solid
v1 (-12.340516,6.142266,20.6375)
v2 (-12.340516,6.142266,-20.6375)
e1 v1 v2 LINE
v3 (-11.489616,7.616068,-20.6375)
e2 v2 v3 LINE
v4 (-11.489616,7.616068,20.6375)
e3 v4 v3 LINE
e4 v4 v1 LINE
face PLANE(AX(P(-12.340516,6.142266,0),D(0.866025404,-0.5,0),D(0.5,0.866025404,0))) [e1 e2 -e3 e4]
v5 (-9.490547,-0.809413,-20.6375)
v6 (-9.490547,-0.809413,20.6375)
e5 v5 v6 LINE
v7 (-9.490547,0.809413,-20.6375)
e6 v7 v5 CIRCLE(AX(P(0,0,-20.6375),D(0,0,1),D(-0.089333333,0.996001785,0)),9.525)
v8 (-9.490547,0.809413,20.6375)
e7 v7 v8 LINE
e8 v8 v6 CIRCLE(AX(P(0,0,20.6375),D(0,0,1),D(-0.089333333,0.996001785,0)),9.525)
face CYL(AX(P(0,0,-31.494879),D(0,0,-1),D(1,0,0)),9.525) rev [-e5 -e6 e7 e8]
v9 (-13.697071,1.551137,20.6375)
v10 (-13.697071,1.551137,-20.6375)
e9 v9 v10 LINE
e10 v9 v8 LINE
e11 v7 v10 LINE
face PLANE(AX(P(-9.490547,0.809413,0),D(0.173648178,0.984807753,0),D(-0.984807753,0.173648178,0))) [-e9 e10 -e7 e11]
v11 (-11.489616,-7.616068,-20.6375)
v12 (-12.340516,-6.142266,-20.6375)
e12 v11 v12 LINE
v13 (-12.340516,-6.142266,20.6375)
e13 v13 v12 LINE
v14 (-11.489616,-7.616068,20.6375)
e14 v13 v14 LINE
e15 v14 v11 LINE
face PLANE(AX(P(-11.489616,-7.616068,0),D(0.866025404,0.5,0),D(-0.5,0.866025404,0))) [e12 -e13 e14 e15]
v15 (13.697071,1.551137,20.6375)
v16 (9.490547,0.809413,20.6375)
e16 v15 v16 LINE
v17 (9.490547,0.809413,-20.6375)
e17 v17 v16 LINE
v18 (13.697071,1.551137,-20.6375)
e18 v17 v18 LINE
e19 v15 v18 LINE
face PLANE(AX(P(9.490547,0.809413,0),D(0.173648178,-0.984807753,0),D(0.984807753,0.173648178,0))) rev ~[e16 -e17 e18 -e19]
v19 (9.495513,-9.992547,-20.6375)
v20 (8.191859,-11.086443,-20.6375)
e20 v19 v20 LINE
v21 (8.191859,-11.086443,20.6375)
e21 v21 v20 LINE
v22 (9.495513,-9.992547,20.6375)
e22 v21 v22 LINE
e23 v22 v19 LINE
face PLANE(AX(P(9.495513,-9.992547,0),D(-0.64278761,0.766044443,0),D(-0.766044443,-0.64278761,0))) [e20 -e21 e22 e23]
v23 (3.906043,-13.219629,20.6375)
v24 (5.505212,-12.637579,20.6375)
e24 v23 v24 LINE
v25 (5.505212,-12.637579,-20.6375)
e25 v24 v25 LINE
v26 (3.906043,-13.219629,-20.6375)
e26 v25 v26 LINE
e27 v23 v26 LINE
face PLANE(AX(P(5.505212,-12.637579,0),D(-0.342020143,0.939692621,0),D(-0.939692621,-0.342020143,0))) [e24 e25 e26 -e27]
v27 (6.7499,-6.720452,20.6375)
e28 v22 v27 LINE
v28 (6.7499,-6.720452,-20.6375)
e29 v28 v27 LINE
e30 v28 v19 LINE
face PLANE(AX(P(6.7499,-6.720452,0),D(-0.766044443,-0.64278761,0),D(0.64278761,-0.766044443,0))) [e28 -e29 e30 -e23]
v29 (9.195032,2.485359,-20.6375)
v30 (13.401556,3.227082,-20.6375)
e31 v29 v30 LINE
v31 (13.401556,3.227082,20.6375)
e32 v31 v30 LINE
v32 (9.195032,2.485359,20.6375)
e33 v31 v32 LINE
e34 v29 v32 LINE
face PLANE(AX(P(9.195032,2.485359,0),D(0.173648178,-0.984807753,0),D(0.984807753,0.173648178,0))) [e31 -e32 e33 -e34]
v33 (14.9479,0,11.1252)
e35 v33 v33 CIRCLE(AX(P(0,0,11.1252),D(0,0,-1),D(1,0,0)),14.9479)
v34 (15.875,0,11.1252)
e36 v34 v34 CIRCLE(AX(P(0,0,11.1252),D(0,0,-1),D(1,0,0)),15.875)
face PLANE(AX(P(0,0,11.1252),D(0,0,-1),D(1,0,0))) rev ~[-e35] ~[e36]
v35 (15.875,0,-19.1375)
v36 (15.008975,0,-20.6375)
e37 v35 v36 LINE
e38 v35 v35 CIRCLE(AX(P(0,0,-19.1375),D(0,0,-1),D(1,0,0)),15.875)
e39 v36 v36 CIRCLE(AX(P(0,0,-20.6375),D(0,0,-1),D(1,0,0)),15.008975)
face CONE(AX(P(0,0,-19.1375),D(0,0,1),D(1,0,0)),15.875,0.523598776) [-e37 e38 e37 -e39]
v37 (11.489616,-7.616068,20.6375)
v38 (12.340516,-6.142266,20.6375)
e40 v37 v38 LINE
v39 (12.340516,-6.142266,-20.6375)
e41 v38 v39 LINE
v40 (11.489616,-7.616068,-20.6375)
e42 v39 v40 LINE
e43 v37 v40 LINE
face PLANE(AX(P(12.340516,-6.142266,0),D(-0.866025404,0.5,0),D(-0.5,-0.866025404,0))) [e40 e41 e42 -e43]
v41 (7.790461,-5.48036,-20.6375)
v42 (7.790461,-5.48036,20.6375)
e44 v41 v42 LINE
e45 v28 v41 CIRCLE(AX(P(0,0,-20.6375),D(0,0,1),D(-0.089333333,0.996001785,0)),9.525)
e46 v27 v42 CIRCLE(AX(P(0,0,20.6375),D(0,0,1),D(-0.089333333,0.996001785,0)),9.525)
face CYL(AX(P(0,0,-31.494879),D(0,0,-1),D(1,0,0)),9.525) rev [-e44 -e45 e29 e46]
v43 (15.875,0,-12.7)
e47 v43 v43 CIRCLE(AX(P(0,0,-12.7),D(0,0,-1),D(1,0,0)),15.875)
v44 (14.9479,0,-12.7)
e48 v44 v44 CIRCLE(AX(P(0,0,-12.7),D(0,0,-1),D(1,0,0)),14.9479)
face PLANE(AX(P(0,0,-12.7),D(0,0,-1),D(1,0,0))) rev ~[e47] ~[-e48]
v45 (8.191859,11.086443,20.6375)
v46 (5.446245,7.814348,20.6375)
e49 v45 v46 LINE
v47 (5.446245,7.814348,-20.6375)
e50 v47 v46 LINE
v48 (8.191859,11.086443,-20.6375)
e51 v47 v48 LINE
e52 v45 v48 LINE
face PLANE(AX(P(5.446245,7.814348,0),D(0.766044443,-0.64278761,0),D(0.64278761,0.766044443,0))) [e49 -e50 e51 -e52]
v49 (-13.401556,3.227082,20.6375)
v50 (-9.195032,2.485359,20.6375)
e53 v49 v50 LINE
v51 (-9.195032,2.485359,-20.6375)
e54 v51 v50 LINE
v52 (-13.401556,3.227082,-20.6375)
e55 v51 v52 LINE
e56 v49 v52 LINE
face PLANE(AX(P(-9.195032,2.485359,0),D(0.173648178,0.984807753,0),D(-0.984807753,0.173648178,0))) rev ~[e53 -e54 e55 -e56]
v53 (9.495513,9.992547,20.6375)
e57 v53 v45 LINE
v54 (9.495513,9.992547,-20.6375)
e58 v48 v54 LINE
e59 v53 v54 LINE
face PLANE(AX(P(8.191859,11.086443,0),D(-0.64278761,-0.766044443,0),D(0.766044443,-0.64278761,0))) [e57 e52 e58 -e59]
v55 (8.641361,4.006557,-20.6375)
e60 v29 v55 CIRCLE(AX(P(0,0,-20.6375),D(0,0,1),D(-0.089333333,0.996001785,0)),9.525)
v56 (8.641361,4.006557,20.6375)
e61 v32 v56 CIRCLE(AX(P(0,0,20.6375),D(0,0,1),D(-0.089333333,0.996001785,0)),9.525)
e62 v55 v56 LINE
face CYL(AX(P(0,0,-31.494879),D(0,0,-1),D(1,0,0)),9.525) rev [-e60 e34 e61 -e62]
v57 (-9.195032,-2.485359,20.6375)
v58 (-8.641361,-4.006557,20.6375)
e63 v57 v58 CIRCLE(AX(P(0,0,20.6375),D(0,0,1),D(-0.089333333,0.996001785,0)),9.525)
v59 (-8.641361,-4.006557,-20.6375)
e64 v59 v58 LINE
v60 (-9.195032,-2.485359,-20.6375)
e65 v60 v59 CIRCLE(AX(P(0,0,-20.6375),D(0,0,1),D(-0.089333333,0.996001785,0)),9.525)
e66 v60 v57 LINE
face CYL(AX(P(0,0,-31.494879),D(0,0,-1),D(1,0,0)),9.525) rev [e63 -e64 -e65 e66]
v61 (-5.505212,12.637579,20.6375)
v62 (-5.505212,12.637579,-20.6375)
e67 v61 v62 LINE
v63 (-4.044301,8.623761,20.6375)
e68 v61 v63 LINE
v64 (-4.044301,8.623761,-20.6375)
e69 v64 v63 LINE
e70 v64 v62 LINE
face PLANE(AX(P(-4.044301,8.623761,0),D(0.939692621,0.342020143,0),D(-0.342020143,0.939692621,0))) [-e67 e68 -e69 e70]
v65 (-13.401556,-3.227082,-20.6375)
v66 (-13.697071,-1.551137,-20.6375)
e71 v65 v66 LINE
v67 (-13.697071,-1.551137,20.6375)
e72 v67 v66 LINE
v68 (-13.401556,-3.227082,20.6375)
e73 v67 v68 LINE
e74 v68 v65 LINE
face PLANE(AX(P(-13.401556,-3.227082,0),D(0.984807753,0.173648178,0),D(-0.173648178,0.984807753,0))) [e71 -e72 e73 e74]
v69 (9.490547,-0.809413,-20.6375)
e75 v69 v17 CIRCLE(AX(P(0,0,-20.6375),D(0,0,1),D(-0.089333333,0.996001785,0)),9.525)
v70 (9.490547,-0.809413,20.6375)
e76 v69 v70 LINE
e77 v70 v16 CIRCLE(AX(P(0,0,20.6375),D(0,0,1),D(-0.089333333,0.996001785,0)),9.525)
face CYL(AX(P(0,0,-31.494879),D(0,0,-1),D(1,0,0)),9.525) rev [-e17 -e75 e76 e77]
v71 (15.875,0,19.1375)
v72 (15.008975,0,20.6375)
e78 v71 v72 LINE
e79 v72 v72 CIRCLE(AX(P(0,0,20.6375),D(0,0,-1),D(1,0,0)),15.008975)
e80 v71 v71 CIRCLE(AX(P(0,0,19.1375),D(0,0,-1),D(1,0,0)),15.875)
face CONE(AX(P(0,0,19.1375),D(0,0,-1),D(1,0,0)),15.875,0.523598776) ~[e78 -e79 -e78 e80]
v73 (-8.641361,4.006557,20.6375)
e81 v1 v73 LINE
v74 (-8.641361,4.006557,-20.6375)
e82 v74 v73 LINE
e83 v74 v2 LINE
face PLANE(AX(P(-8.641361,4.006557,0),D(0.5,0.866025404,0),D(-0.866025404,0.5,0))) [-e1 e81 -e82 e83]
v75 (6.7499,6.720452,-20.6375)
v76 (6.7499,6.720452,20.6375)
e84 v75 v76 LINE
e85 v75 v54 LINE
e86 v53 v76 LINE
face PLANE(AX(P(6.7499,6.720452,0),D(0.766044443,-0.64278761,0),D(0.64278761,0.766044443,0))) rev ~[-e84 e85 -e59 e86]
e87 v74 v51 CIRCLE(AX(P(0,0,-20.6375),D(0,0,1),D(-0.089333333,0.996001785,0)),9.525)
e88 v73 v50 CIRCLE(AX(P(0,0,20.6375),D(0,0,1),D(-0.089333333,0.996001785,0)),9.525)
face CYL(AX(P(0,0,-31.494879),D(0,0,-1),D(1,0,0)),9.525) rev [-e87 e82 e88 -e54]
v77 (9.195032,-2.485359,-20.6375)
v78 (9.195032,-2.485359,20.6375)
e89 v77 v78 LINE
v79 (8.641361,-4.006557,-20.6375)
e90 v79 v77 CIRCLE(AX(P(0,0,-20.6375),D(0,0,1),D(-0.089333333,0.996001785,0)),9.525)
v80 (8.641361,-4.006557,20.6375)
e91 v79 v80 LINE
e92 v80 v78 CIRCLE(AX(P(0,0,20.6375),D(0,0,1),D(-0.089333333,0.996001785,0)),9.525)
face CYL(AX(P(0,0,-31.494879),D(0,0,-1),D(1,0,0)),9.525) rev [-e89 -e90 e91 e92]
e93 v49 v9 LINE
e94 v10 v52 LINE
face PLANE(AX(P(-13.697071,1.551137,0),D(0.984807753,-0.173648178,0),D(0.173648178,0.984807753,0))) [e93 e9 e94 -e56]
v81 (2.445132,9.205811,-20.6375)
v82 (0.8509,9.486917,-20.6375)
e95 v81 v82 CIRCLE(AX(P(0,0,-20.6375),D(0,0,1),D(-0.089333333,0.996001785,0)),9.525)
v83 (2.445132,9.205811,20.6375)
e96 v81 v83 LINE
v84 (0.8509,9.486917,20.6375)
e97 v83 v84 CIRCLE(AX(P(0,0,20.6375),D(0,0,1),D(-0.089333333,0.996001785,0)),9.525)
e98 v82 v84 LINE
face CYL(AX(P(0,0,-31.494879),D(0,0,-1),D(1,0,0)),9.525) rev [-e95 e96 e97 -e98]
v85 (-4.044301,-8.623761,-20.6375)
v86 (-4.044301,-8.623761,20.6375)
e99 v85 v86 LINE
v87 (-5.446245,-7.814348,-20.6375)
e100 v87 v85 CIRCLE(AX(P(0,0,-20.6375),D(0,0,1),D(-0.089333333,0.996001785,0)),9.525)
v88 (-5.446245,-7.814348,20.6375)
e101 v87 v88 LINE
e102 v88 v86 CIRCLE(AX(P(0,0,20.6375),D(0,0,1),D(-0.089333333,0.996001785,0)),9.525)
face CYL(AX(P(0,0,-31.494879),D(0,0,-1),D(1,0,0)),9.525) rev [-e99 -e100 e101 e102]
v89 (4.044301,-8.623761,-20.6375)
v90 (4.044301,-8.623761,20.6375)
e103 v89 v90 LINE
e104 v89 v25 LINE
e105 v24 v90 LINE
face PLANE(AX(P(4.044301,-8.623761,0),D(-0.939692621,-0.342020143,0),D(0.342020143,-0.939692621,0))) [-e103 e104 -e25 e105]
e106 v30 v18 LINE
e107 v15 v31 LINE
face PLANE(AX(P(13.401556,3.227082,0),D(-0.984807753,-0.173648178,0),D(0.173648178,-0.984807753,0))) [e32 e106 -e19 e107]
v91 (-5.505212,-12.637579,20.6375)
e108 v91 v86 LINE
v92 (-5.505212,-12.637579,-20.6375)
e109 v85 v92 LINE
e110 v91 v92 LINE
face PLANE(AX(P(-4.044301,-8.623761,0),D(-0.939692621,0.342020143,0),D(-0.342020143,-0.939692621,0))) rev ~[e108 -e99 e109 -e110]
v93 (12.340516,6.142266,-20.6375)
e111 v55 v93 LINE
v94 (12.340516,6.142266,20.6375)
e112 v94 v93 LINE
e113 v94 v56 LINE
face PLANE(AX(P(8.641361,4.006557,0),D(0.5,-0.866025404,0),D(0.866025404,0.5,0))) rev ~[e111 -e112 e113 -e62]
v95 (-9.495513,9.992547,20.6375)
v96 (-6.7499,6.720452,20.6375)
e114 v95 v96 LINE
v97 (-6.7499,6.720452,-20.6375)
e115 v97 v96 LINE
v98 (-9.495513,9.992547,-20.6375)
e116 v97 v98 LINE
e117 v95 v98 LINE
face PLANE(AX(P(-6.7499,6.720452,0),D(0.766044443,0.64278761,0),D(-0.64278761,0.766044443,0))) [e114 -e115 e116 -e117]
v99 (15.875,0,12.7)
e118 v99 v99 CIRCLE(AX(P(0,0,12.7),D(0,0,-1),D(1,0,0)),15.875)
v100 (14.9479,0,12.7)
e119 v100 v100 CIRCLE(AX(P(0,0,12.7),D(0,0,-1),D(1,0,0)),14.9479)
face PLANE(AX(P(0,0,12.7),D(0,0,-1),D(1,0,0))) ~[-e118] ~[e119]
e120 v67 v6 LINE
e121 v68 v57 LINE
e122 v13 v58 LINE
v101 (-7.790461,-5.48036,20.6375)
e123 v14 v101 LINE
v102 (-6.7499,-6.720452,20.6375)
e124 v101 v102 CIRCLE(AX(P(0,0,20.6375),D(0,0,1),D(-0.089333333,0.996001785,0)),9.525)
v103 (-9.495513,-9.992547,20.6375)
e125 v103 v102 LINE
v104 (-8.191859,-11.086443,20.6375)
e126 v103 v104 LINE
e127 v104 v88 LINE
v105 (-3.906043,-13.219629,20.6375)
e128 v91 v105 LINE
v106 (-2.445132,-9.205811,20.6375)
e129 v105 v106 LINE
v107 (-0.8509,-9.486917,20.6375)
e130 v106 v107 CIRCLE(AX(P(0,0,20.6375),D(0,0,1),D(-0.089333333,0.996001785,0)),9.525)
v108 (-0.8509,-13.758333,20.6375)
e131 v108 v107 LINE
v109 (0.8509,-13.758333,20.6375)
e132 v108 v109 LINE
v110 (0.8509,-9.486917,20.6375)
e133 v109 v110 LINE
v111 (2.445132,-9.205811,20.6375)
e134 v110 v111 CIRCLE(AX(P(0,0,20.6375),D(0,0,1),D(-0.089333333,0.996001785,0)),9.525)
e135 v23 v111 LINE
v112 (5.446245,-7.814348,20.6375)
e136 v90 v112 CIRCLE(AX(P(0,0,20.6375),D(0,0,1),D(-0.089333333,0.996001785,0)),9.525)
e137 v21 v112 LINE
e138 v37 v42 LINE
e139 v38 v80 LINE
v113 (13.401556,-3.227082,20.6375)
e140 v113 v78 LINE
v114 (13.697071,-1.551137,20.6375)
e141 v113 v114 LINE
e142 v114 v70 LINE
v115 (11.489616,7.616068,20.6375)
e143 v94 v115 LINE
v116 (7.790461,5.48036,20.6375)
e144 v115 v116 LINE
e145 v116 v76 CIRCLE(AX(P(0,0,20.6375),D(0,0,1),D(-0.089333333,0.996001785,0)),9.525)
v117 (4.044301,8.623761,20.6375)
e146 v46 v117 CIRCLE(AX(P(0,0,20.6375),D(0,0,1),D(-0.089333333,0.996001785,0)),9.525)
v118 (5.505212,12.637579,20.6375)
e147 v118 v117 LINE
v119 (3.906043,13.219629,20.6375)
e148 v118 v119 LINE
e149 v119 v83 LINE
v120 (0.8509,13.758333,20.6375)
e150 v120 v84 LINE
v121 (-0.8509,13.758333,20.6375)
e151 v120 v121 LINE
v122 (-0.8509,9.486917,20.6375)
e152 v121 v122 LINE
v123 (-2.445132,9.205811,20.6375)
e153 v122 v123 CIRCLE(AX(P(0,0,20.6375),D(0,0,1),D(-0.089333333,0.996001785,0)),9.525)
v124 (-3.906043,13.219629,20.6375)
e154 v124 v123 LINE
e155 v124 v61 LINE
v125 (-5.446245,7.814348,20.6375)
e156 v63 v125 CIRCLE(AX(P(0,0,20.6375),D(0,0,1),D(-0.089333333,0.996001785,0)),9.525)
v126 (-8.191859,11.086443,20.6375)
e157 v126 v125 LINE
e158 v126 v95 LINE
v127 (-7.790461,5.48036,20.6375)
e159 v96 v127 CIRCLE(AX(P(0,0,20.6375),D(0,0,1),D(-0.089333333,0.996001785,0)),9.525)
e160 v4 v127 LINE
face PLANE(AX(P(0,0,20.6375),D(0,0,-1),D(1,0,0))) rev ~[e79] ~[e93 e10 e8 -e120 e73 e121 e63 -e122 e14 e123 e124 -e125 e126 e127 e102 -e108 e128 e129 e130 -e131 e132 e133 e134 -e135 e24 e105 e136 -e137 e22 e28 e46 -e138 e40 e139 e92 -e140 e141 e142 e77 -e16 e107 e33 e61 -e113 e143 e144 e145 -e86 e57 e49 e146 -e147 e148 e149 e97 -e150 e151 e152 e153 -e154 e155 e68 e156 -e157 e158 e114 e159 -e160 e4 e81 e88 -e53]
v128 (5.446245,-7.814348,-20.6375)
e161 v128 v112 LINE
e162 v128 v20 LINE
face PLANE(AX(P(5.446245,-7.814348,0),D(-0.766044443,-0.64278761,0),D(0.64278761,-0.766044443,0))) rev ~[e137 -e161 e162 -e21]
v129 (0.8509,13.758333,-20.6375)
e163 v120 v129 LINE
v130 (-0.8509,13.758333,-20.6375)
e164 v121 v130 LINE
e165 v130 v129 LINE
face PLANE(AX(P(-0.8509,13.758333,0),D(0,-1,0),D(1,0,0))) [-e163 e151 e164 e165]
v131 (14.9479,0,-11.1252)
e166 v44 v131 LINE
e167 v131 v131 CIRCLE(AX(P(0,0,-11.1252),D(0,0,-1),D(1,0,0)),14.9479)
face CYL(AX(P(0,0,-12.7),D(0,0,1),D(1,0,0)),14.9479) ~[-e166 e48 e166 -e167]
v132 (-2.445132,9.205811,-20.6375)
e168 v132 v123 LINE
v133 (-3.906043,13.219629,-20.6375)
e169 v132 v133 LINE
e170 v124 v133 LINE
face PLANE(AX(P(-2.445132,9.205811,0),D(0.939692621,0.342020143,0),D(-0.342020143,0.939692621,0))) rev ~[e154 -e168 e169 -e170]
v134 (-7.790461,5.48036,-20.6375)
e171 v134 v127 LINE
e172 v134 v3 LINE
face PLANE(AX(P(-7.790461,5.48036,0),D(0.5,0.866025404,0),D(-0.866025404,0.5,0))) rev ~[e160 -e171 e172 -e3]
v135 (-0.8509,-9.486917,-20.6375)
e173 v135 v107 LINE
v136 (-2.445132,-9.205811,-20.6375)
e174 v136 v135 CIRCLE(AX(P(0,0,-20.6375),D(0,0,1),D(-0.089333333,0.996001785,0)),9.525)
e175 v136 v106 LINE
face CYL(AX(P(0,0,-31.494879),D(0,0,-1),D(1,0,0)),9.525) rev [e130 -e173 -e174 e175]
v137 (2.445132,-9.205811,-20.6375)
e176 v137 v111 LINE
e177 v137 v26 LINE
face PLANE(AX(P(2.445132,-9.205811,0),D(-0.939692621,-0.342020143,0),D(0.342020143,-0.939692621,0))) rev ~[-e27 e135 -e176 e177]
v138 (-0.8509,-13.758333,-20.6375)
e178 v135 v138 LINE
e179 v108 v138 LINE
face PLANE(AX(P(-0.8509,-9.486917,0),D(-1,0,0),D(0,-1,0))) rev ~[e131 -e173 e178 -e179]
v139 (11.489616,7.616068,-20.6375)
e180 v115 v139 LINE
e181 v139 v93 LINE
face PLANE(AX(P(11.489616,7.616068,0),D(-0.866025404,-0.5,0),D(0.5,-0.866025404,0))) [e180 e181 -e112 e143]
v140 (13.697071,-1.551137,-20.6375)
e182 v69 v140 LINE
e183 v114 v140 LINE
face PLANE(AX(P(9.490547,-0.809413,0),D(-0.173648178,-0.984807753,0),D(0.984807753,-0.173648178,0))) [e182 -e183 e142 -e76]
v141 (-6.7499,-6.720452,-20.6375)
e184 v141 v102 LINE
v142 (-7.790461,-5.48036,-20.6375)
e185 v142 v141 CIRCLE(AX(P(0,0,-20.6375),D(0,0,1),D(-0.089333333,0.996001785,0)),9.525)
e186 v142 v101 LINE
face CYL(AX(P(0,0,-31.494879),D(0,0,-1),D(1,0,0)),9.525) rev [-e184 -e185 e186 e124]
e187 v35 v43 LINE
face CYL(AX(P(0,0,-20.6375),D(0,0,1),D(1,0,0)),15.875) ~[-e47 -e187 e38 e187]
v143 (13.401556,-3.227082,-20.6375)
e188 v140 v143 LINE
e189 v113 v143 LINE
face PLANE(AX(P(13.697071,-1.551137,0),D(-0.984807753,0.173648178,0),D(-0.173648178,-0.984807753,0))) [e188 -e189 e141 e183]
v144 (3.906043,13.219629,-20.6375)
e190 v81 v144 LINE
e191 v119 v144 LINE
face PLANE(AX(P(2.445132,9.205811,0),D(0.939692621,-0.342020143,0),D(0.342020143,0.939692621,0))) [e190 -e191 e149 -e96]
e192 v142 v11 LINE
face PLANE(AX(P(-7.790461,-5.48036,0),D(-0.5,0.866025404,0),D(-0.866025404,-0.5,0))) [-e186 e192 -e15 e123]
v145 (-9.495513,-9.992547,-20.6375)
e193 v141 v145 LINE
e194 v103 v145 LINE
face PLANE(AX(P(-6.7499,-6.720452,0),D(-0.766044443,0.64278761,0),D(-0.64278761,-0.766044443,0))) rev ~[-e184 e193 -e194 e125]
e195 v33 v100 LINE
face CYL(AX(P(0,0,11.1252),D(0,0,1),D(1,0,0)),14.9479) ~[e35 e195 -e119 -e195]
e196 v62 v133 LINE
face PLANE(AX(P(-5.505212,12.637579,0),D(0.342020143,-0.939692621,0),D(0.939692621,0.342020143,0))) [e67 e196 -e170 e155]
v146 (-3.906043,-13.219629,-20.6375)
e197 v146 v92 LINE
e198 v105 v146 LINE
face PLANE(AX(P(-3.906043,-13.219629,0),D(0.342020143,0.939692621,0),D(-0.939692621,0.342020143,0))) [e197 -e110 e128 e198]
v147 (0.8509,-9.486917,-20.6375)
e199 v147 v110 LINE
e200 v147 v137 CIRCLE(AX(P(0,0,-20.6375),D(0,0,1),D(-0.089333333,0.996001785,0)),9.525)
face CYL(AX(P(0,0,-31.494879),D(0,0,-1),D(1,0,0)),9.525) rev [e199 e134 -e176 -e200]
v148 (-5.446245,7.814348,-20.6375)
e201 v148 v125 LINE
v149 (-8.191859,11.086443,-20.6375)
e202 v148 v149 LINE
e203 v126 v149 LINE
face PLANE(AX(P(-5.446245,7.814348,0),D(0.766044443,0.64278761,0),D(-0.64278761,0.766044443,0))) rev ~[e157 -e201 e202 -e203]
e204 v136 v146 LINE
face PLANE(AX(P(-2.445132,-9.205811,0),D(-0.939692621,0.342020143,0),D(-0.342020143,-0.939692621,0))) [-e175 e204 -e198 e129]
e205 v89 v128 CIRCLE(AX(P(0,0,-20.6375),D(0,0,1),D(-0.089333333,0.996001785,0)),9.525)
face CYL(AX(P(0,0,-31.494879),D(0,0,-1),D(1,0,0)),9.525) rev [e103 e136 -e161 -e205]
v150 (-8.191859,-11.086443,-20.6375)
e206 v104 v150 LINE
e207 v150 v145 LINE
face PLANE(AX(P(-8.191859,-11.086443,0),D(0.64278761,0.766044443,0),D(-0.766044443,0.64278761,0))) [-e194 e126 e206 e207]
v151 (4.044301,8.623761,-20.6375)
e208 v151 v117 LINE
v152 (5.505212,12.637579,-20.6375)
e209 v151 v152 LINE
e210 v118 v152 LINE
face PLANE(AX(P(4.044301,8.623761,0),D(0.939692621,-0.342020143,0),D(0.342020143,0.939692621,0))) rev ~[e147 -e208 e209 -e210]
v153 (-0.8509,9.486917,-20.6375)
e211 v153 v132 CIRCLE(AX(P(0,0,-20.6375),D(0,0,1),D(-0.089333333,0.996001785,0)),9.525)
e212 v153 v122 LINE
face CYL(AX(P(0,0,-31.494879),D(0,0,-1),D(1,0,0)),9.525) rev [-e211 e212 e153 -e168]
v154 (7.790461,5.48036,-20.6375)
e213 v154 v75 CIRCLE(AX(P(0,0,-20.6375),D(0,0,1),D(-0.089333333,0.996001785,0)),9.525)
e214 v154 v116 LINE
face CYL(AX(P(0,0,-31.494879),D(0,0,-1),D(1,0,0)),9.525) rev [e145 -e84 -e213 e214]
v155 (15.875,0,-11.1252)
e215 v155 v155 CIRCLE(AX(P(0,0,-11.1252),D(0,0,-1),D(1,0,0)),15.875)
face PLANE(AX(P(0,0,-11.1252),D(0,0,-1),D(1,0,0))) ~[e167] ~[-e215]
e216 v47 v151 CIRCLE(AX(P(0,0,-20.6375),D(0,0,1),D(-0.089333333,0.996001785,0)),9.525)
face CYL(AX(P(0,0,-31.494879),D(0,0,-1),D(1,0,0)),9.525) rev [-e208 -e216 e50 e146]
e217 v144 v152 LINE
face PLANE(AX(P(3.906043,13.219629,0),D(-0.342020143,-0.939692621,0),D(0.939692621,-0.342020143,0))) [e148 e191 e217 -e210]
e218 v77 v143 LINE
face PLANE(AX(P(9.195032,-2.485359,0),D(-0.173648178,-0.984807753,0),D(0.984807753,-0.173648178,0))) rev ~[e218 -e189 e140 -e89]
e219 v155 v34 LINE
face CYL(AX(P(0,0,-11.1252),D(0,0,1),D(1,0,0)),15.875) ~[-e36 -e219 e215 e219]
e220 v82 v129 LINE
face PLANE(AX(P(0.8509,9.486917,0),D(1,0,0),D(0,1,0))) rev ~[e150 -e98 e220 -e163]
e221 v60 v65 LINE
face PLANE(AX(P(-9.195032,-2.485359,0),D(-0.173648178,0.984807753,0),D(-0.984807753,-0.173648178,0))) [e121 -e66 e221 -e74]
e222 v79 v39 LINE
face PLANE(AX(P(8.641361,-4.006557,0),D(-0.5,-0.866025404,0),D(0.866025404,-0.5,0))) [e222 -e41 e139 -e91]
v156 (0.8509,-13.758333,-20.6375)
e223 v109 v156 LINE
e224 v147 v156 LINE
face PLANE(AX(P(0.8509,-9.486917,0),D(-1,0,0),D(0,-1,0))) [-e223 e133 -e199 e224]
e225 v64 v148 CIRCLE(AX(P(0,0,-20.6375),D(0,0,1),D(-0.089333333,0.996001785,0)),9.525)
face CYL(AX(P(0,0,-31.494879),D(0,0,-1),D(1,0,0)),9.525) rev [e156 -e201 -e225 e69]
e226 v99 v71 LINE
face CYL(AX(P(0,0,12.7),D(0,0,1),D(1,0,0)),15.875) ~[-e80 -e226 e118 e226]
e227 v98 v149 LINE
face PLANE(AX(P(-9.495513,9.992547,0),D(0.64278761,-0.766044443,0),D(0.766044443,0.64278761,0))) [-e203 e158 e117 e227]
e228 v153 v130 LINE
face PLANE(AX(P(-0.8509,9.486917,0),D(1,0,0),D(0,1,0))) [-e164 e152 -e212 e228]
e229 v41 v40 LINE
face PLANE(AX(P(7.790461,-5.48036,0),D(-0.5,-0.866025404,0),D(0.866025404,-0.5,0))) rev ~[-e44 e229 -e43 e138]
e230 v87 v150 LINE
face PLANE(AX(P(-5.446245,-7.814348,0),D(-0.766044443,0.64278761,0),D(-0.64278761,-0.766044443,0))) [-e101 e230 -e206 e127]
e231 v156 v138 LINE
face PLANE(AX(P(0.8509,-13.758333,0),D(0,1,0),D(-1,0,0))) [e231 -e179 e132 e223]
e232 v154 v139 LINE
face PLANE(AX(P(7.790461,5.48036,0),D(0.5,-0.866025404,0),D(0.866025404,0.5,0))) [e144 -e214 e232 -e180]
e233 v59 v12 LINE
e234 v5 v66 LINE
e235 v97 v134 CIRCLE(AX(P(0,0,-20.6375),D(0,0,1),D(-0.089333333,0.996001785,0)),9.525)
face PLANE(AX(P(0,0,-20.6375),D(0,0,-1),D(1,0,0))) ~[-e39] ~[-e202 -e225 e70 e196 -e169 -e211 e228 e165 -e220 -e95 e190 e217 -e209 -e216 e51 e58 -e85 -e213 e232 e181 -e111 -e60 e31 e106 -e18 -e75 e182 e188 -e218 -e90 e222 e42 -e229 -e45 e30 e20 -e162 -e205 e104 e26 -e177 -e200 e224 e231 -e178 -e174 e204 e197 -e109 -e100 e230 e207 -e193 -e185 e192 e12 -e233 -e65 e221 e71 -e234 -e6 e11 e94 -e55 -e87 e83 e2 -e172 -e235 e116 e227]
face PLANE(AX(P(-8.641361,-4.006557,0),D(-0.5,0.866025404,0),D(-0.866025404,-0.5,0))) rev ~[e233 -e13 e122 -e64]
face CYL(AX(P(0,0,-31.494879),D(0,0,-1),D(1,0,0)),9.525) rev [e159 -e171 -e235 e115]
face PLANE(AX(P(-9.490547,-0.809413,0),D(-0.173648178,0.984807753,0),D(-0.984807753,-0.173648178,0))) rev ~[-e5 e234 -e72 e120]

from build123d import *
from OCP.BRepFilletAPI import BRepFilletAPI_MakeChamfer

# Parameters (mm, degrees)
BORE_DEPTH          = 31.494879181
BORE_DEPTH_BACK     = 31.494879181
SKETCH2_R           = 9.525
SKETCH3_W           = 1.7018
SKETCH3_H           = 4.271416332
RIDGE_DEPTH         = 31.494879181
RIDGE_PATTERN_COUNT = 18
OD_CHAMFER_SIZE     = 1.5
OD_CHAMFER_SIZE2    = 0.866025404


with BuildPart() as part:
    # Sketch1 → Bearing (revolve)
    with BuildSketch(Plane(origin=(0, 0, 0), x_dir=(0, 0, -1), z_dir=(1, 0, 0))):
        Polygon((-20.6375, 0), (20.6375, 0), (20.6375, -15.875), (12.7, -15.875), (12.7, -14.9479), (11.1252, -14.9479), (11.1252, -15.875), (-11.1252, -15.875), (-11.1252, -14.9479), (-12.7, -14.9479), (-12.7, -15.875), (-20.6375, -15.875), align=None)
    revolve(axis=Axis((0, 0, 20.6375), (0, 0, -1)))

    # Sketch2 → Bore (cut, two sides: drawn at the far end of the back side and taken through both)
    with BuildSketch(Plane.XY.offset(-BORE_DEPTH_BACK)):
        Circle(SKETCH2_R)
    extrude(amount=BORE_DEPTH + BORE_DEPTH_BACK, mode=Mode.SUBTRACT)

    # Sketch3 → Ridge (cut, symmetric)
    with BuildSketch(Plane.XY):
        with Locations((0, 11.622625167)):
            Rectangle(SKETCH3_W, SKETCH3_H)
    ridge = extrude(amount=RIDGE_DEPTH, both=True, mode=Mode.SUBTRACT)

    # Ridge Pattern: Ridge ×18 about axis
    ridge_pattern_axis = Axis((0, 0, 20.6375), (0, 0, 1))
    for i in range(1, RIDGE_PATTERN_COUNT):
        add(ridge.rotate(ridge_pattern_axis, i * 360 / RIDGE_PATTERN_COUNT), mode=Mode.SUBTRACT)

    # OD Chamfer: one chamfer whose edges measure the first distance from different faces: ONE call of the kernel's chamfer builder (chamfer() names one face for all edges)
    od_chamfer_edges_1 = [part.edges().sort_by_distance(p)[0] for p in [
        (0, 15.875, -20.6375),
    ]]
    od_chamfer_side_1 = [part.faces().sort_by_distance(p)[0] for p in [
        (0, 15.875, -16.66875),
    ]]
    od_chamfer_edges_2 = [part.edges().sort_by_distance(p)[0] for p in [
        (0, 15.875, 20.6375),
    ]]
    od_chamfer_side_2 = [part.faces().sort_by_distance(p)[0] for p in [
        (0, 15.875, 16.66875),
    ]]
    od_chamfer = BRepFilletAPI_MakeChamfer(part.part.solid().wrapped)
    for e in od_chamfer_edges_1:
        od_chamfer.Add(OD_CHAMFER_SIZE, OD_CHAMFER_SIZE2, e.wrapped, od_chamfer_side_1[0].wrapped)  # the first distance lies on this face
    for e in od_chamfer_edges_2:
        od_chamfer.Add(OD_CHAMFER_SIZE, OD_CHAMFER_SIZE2, e.wrapped, od_chamfer_side_2[0].wrapped)  # the first distance lies on this face
    add(Compound.cast(od_chamfer.Shape()), mode=Mode.REPLACE)


solid = part.part
